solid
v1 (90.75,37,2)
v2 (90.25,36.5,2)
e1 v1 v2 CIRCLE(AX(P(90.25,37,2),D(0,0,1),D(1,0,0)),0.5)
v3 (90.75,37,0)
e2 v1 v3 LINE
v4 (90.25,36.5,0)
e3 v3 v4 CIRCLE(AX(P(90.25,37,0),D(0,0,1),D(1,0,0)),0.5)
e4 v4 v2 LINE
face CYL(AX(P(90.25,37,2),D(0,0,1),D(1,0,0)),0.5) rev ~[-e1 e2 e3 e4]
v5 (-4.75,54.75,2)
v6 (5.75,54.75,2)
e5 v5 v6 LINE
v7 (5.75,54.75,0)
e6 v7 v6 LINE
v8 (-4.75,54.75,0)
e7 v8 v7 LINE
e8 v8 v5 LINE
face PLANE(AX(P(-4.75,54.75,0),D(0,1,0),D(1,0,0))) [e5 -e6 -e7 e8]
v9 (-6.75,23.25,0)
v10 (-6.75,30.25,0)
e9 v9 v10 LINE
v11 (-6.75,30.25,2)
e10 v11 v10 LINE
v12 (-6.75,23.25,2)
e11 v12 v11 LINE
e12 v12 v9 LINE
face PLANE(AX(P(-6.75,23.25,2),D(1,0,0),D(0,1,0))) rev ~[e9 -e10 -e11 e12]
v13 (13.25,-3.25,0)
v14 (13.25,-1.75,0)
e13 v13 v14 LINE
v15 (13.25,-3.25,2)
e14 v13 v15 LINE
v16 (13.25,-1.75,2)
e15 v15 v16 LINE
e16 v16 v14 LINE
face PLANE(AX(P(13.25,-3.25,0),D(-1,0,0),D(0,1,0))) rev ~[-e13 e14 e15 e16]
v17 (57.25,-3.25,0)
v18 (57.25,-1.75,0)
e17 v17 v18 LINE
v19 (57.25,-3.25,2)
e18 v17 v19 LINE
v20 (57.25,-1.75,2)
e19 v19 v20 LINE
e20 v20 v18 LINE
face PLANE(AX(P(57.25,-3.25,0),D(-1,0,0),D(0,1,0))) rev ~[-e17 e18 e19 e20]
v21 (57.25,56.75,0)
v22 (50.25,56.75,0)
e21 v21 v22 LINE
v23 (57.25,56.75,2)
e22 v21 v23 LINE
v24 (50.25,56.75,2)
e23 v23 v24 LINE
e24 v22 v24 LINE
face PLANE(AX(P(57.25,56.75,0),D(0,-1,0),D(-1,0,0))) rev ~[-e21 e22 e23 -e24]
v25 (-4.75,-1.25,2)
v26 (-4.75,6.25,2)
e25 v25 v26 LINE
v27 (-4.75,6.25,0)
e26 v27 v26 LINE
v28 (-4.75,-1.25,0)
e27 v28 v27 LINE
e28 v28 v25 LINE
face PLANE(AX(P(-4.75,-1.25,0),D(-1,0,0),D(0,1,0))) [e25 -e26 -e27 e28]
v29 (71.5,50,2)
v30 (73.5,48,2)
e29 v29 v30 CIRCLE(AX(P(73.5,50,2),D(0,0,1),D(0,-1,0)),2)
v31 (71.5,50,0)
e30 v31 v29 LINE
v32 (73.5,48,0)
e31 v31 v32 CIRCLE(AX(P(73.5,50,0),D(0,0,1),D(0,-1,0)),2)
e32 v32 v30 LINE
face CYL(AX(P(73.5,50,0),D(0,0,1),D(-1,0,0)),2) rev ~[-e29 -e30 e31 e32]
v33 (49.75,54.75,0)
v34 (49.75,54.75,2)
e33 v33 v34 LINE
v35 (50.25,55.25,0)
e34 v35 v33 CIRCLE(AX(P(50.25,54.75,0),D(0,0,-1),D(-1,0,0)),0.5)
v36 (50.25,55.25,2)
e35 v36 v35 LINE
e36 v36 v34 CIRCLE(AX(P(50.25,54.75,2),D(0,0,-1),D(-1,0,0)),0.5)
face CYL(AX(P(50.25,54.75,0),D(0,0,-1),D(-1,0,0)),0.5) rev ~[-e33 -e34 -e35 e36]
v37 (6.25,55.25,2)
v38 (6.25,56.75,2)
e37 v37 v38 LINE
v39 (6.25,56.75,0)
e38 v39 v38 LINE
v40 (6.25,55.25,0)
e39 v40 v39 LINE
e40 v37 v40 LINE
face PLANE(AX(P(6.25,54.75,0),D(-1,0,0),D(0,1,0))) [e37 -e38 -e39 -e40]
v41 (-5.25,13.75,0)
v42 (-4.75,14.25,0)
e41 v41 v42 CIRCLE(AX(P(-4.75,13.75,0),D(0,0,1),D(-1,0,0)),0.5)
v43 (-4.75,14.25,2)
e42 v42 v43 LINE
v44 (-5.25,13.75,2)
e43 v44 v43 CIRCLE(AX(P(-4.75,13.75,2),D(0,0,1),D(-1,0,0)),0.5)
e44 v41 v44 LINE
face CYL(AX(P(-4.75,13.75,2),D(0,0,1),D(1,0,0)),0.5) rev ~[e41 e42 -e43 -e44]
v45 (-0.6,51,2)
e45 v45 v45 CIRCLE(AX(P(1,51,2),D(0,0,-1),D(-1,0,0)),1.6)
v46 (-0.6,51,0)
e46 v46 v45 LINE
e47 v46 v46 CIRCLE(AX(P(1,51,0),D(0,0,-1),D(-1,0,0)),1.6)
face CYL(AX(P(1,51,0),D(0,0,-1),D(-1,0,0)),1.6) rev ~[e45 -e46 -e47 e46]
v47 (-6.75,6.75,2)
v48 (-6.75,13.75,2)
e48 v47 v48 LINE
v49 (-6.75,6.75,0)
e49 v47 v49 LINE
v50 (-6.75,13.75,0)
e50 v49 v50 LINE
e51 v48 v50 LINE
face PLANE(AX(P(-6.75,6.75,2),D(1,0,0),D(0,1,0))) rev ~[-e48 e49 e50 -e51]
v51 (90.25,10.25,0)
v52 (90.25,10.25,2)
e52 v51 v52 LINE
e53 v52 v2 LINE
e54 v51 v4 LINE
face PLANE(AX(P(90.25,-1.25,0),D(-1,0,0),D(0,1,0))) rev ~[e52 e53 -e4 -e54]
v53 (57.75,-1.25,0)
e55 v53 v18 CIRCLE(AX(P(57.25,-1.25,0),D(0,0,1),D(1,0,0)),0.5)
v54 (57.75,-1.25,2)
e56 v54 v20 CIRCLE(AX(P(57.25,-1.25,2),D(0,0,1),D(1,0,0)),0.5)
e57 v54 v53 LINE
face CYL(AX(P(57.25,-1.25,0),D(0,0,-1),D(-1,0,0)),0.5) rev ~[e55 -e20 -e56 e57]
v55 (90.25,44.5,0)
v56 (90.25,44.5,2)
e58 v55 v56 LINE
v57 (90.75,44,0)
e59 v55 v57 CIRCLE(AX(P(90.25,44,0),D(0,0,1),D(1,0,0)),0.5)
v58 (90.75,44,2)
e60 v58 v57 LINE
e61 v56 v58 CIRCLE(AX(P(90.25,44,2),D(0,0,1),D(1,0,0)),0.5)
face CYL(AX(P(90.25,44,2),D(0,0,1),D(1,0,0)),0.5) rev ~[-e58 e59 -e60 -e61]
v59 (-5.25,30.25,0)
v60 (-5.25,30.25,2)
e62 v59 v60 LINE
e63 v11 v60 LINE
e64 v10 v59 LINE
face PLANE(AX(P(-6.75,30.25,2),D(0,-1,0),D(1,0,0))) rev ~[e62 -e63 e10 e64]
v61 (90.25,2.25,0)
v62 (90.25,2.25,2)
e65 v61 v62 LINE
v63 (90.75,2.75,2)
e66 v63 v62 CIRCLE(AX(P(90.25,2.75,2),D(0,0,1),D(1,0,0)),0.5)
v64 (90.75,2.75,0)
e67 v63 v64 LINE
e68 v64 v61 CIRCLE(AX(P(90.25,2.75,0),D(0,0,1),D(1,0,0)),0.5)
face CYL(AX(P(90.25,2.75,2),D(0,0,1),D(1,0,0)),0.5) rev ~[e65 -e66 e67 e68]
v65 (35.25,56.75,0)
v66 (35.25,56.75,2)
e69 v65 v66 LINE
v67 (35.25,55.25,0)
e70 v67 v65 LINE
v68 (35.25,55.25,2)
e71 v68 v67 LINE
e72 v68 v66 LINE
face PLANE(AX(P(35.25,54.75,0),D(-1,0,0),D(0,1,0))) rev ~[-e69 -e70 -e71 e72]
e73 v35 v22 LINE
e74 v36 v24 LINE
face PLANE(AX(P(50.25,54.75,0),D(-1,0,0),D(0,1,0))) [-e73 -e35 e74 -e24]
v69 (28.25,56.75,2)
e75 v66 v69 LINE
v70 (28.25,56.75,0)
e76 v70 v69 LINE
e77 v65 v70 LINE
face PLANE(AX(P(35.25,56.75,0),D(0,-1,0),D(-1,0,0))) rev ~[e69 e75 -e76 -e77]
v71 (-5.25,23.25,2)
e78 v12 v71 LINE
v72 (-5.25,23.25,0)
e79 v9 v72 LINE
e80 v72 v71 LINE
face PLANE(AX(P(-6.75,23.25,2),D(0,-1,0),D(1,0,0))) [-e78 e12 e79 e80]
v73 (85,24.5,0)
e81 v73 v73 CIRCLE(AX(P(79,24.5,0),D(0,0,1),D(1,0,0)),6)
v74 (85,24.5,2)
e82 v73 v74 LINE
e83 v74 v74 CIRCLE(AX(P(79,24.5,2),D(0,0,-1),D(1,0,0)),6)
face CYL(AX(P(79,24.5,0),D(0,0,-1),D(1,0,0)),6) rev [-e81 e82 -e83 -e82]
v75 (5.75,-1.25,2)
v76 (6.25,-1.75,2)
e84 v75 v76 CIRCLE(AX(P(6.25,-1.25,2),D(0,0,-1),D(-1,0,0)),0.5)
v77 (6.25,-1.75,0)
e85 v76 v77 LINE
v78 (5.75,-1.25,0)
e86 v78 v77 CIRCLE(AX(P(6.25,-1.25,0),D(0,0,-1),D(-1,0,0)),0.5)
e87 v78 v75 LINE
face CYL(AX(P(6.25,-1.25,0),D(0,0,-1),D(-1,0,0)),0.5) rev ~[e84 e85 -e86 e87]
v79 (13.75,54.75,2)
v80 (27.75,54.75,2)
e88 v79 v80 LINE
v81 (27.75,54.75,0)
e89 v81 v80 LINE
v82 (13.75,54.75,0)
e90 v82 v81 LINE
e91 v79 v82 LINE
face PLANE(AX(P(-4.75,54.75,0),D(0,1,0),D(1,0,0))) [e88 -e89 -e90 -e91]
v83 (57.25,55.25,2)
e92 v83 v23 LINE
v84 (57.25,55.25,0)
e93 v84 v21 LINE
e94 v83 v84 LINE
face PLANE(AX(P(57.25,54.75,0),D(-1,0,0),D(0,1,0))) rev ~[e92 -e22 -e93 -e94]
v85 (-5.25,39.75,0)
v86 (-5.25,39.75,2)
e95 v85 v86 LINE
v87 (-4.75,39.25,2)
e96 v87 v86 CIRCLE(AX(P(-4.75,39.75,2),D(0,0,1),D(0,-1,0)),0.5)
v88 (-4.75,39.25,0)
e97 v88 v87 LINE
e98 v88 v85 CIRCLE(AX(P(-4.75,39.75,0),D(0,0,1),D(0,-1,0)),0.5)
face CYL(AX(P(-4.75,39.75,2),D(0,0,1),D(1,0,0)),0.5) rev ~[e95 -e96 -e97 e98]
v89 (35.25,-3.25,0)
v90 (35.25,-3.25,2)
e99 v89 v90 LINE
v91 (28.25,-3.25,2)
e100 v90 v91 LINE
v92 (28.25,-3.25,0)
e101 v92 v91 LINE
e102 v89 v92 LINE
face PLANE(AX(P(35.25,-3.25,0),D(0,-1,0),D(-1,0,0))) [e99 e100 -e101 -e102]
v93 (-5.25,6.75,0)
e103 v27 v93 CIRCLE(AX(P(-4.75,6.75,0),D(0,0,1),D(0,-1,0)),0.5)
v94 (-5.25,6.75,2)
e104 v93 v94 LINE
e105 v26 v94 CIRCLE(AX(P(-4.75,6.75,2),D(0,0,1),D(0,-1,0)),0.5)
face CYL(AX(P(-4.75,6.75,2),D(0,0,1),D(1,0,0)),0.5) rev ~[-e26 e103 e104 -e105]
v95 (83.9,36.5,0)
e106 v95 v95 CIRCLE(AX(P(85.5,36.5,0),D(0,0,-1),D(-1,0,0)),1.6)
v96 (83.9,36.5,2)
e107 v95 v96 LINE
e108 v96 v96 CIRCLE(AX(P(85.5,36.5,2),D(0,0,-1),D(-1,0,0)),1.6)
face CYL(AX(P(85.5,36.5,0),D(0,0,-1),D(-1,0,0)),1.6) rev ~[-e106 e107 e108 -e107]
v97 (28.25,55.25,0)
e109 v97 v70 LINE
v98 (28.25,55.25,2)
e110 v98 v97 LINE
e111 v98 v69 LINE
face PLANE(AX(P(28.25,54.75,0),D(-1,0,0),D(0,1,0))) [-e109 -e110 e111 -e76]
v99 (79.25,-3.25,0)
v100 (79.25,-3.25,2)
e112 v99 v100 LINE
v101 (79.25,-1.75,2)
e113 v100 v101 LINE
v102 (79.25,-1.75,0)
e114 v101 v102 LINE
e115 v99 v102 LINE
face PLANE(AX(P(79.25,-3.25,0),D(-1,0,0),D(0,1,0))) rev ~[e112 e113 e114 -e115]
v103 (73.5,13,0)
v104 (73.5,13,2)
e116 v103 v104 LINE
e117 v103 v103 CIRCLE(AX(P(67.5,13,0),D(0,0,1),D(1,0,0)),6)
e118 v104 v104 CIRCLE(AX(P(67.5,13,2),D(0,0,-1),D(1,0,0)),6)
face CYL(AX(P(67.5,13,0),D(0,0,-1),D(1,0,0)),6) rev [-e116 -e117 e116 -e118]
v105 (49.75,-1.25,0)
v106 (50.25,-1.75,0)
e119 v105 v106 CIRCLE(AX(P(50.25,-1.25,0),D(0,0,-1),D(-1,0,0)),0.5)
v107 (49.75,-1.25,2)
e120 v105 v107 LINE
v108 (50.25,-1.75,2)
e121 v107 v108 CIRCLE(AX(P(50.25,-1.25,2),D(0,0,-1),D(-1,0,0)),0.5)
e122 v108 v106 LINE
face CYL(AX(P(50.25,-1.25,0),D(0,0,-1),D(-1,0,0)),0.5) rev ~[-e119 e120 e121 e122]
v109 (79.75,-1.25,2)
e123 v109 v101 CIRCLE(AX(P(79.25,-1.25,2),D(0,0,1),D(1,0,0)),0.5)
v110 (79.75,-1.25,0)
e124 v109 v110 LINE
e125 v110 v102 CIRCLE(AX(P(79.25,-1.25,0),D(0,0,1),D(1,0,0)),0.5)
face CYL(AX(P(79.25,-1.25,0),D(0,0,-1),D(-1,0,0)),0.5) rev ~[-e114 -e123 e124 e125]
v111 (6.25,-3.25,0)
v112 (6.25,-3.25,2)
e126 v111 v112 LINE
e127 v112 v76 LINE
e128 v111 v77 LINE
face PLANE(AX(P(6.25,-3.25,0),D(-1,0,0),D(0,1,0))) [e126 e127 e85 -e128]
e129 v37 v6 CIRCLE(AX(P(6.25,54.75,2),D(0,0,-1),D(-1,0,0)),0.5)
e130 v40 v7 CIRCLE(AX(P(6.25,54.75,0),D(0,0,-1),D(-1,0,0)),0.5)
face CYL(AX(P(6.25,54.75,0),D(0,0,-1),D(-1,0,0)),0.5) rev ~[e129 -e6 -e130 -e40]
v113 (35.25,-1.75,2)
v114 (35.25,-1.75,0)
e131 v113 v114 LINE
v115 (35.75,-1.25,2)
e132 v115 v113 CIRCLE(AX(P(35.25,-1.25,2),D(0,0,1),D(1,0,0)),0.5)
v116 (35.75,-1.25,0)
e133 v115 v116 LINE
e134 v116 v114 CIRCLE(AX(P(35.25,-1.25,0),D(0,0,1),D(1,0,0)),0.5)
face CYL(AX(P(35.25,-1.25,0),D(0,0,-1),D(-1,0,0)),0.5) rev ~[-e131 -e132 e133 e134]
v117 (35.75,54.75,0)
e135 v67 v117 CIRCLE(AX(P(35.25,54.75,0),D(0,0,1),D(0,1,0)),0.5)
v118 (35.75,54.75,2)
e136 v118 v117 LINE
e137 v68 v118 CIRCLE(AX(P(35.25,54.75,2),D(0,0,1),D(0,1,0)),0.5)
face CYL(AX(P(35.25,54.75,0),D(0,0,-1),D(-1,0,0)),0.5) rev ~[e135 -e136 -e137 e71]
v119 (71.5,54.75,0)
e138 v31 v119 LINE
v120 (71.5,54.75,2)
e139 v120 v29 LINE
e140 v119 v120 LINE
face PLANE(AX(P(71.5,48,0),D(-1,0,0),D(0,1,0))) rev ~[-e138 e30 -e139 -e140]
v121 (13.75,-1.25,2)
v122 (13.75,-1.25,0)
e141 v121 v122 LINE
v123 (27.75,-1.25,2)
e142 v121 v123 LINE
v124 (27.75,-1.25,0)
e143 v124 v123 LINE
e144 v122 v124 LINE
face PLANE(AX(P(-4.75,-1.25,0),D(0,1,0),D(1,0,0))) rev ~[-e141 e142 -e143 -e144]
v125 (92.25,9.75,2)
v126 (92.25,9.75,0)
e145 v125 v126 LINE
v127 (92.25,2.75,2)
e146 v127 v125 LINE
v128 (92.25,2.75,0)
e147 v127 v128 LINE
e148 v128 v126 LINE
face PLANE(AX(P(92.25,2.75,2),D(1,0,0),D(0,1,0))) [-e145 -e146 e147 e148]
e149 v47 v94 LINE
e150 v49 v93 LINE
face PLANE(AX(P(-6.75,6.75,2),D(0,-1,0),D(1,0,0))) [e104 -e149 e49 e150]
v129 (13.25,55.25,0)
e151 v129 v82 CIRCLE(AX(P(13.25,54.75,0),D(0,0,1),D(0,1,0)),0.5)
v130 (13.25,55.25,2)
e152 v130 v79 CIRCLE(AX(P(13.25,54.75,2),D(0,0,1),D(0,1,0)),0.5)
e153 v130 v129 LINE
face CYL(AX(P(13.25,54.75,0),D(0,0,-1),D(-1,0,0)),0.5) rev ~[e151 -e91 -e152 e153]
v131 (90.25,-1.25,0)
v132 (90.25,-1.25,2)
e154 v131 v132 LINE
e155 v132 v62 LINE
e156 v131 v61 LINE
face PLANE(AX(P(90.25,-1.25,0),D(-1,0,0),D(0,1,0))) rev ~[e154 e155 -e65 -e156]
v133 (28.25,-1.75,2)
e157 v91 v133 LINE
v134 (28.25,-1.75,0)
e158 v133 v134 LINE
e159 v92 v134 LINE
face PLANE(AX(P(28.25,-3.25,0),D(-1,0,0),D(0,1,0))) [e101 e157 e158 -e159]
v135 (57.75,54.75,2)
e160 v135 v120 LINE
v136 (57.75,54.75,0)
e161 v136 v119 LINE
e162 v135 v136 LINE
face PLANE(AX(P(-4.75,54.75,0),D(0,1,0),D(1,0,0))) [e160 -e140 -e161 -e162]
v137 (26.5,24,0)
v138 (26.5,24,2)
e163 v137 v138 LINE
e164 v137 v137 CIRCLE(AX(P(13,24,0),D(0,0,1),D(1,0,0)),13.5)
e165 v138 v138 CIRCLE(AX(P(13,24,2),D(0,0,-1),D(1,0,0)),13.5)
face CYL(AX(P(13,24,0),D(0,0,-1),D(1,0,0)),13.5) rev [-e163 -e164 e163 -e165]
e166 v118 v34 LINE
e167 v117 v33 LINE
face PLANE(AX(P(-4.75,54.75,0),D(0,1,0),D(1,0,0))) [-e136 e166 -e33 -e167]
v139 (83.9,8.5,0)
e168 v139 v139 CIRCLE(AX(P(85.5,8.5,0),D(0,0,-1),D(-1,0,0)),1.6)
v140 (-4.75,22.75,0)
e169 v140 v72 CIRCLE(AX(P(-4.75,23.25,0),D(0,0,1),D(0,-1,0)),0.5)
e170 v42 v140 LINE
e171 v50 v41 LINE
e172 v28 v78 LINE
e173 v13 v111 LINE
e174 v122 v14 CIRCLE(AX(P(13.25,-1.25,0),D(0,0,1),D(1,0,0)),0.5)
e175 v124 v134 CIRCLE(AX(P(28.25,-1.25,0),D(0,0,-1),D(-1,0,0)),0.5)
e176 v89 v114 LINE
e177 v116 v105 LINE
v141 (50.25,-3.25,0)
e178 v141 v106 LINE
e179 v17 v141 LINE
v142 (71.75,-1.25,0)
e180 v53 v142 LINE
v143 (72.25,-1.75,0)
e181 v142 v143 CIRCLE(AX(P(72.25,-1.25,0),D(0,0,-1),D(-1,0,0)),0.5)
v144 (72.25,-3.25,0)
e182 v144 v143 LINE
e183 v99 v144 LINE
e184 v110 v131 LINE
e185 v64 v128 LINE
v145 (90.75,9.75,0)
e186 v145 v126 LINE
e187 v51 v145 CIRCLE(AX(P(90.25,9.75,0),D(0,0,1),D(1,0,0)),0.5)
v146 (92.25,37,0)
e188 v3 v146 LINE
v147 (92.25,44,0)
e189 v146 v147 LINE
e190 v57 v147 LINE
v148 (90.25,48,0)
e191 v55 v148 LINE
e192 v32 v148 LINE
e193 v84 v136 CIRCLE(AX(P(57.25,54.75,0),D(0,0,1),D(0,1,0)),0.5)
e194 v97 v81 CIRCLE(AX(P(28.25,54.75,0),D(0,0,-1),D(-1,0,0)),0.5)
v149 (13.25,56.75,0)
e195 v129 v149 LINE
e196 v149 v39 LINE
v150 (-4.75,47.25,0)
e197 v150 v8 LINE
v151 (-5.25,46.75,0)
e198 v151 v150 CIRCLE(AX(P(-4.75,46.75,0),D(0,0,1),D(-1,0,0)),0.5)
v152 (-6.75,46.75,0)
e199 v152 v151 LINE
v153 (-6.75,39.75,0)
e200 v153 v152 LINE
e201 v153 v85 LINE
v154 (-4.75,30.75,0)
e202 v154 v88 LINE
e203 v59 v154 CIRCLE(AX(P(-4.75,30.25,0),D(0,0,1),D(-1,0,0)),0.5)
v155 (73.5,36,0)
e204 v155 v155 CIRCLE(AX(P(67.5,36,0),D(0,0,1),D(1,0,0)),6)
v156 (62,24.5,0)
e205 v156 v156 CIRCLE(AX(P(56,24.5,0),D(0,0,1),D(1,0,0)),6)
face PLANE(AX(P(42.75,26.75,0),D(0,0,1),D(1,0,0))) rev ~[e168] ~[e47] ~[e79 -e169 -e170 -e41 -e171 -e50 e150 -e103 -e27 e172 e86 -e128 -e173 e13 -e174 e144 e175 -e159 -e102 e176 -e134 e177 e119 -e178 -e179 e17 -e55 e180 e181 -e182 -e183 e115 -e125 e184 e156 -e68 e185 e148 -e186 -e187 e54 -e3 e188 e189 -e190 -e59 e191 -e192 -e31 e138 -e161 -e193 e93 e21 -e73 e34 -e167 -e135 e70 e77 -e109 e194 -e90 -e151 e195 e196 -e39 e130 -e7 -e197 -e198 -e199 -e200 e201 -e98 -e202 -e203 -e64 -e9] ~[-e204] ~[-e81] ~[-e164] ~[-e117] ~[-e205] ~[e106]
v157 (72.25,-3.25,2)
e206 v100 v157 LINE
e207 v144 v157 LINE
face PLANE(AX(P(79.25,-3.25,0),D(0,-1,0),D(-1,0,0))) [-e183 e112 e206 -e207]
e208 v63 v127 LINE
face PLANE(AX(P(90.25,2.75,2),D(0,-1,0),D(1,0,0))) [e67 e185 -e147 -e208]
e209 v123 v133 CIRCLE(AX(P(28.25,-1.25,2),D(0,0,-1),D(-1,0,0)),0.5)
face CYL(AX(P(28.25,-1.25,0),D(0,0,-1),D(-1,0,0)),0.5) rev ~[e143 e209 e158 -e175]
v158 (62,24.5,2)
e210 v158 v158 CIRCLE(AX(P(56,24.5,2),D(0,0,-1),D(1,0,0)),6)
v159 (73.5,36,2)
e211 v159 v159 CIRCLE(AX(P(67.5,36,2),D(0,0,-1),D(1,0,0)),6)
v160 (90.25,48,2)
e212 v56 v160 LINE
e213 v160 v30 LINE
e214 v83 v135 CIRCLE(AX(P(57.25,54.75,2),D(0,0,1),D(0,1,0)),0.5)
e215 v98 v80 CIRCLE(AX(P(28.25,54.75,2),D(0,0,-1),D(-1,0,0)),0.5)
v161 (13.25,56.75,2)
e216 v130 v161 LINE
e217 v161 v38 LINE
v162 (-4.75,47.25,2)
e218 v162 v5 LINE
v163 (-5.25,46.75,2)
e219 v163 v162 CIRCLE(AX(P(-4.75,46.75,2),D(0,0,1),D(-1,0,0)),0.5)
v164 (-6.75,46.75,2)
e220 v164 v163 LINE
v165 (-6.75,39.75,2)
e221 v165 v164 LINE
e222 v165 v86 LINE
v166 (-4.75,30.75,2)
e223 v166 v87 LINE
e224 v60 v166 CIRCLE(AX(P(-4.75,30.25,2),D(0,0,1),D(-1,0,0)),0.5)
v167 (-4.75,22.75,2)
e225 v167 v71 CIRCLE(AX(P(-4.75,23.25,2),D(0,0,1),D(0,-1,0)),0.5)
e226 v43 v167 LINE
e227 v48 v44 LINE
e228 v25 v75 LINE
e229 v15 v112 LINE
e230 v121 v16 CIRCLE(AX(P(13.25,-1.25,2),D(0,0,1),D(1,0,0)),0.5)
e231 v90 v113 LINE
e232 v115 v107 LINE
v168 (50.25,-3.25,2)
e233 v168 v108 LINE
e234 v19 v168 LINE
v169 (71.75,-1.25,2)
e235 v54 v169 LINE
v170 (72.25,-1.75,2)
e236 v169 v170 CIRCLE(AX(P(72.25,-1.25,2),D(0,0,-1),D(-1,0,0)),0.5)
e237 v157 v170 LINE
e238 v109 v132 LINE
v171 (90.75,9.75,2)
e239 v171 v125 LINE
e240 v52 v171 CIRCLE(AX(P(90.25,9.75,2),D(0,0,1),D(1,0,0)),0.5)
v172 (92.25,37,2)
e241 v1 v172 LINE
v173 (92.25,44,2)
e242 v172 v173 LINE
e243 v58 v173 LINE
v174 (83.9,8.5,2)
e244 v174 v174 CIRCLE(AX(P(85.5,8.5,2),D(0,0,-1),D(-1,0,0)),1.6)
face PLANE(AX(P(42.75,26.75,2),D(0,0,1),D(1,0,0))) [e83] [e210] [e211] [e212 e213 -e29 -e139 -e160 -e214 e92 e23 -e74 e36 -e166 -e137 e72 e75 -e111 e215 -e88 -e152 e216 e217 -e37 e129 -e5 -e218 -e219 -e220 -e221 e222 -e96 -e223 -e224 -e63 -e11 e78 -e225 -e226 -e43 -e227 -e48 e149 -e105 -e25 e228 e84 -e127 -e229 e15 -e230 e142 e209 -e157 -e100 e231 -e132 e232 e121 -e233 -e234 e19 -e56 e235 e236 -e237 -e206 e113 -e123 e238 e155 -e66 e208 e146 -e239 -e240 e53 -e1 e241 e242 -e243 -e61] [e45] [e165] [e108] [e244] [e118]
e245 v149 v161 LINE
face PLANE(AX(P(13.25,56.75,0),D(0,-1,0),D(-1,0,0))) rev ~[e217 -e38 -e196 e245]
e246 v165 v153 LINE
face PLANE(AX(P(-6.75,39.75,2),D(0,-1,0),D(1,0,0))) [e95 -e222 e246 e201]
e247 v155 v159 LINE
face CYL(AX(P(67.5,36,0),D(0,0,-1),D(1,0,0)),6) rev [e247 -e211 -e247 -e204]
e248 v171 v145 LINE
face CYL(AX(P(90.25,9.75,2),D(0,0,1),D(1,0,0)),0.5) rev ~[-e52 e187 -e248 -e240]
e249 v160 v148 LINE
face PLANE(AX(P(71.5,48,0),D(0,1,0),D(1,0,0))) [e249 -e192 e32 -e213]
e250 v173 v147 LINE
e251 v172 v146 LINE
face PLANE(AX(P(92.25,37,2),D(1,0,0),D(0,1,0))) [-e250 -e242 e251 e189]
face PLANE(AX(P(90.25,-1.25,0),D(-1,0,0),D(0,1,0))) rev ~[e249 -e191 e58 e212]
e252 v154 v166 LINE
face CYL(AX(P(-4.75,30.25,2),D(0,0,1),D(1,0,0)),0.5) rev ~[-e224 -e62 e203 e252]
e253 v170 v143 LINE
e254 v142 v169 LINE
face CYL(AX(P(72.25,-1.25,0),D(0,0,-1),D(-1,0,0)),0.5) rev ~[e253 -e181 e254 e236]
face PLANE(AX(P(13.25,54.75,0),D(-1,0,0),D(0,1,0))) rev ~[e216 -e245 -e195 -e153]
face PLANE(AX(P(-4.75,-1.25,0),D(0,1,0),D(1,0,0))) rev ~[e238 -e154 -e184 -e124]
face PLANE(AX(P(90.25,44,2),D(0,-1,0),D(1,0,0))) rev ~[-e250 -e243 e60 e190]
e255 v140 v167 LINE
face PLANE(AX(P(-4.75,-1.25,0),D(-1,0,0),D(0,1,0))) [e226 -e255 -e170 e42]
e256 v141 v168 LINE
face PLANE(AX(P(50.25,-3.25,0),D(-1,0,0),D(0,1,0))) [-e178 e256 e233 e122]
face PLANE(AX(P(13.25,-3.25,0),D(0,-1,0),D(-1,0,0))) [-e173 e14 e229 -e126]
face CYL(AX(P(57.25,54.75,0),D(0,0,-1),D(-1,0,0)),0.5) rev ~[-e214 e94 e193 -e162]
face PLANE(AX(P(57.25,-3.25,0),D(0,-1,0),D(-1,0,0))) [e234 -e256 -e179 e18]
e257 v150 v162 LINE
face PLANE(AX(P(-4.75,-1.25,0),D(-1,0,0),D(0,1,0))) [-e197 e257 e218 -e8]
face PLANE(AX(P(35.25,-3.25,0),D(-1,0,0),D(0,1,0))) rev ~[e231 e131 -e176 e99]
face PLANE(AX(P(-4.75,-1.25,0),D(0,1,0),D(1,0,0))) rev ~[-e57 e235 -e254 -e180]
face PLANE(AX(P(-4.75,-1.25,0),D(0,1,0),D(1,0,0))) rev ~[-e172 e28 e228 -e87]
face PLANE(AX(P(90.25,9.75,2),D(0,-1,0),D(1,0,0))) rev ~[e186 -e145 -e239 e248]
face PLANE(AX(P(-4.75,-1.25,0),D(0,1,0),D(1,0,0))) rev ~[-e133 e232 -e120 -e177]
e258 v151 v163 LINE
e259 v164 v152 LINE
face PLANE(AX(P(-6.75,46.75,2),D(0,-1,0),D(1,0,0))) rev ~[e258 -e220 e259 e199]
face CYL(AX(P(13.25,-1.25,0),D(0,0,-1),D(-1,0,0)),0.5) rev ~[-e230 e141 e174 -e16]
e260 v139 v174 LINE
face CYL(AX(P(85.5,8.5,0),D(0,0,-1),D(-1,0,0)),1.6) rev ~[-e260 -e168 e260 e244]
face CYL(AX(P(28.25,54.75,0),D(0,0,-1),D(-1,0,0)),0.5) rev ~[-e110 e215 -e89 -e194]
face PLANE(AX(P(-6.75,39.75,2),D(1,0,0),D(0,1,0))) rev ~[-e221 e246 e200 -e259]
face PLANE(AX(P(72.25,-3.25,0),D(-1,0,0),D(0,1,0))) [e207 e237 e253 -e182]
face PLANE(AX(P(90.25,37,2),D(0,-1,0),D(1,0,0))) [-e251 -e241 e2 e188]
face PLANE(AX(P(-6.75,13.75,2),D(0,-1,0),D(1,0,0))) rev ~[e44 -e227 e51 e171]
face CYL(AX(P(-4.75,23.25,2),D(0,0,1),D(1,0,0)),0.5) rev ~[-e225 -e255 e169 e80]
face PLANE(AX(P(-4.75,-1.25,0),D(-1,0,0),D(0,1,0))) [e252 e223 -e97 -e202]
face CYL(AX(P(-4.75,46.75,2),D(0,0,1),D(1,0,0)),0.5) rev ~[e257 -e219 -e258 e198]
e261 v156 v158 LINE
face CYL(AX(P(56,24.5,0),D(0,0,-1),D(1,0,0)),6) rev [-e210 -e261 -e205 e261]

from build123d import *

# Parameters (mm, degrees)
SKETCH_5_W          = 95
SKETCH_5_H          = 56
EXTRUDE_1_DEPTH     = 2
SKETCH_3_R          = 6
CUT_EXTRUDE_2_DEPTH = 106.577578112
SKETCH_4_R          = 13.5
CUT_EXTRUDE_3_DEPTH = 106.577578112
SKETCH_6_W          = 20
SKETCH_6_H          = 9
CUT_EXTRUDE_4_DEPTH = 106.577578112
FILLET_2_R          = 2
SKETCH_8_R          = 1.6
CUT_EXTRUDE_6_DEPTH = 106.577578112
SKETCH_10_W         = 7
SKETCH_10_H         = 2
EXTRUDE_2_DEPTH     = 2
SKETCH_11_R         = 0.5
CUT_EXTRUDE_8_DEPTH = 107.628443672
SKETCH_12_W         = 2
SKETCH_12_H         = 7
EXTRUDE_3_DEPTH     = 2
SKETCH_13_W         = 2
SKETCH_13_H         = 7
EXTRUDE_4_DEPTH     = 2
SKETCH_14_R         = 0.5
CUT_EXTRUDE_9_DEPTH = 109.326474142


with BuildPart() as part:
    # 草图5 → 凸台-拉伸1 (new body)
    with BuildSketch(Plane.XY):
        with Locations((42.75, 26.75)):
            Rectangle(SKETCH_5_W, SKETCH_5_H)
    extrude(amount=EXTRUDE_1_DEPTH)

    # 草图3 → 切除-拉伸2 (cut, through all)
    with BuildSketch(Plane.XY):
        with Locations((67.5, 36)):
            Circle(SKETCH_3_R)
        with Locations((56, 24.5)):
            Circle(SKETCH_3_R)
        with Locations((67.5, 13)):
            Circle(SKETCH_3_R)
        with Locations((79, 24.5)):
            Circle(SKETCH_3_R)
    extrude(amount=CUT_EXTRUDE_2_DEPTH, mode=Mode.SUBTRACT)

    # 草图4 → 切除-拉伸3 (cut, through all)
    with BuildSketch(Plane.XY):
        with Locations((13, 24)):
            Circle(SKETCH_4_R)
    extrude(amount=CUT_EXTRUDE_3_DEPTH, mode=Mode.SUBTRACT)

    # 草图6 → 切除-拉伸4 (cut, through all)
    with BuildSketch(Plane.XY):
        with Locations((81.5, 52.5)):
            Rectangle(SKETCH_6_W, SKETCH_6_H)
    extrude(amount=CUT_EXTRUDE_4_DEPTH, mode=Mode.SUBTRACT)

    # 圆角2
    fillet_2_edges = [part.edges().sort_by_distance(p)[0] for p in [
        (71.5, 48, 1),
    ]]
    fillet(fillet_2_edges, radius=FILLET_2_R)

    # 草图8 → 切除-拉伸6 (cut, through all)
    with BuildSketch(Plane(origin=(0, 0, 0), x_dir=(-1, 0, 0), z_dir=(0, 0, -1))):
        with Locations((-85.5, 36.5)):
            Circle(SKETCH_8_R)
        with Locations((-85.5, 8.5)):
            Circle(SKETCH_8_R)
        with Locations((-1, 51)):
            Circle(SKETCH_8_R)
    extrude(amount=-CUT_EXTRUDE_6_DEPTH, mode=Mode.SUBTRACT)

    # 草图10 → 凸台-拉伸2 (add)
    with BuildSketch(Plane(origin=(0, 0, 0), x_dir=(-1, 0, 0), z_dir=(0, 0, -1))):
        with Locations((-9.75, 55.75)):
            Rectangle(SKETCH_10_W, SKETCH_10_H)
        with Locations((-31.75, 55.75)):
            Rectangle(SKETCH_10_W, SKETCH_10_H)
        with Locations((-53.75, 55.75)):
            Rectangle(SKETCH_10_W, SKETCH_10_H)
        with Locations((-75.75, -2.25)):
            Rectangle(SKETCH_10_W, SKETCH_10_H)
        with Locations((-53.75, -2.25)):
            Rectangle(SKETCH_10_W, SKETCH_10_H)
        with Locations((-31.75, -2.25)):
            Rectangle(SKETCH_10_W, SKETCH_10_H)
        with Locations((-9.75, -2.25)):
            Rectangle(SKETCH_10_W, SKETCH_10_H)
    extrude(amount=-EXTRUDE_2_DEPTH)

    # 草图11 → 切除-拉伸8 (cut, through all)
    with BuildSketch(Plane(origin=(0, 0, 0), x_dir=(-1, 0, 0), z_dir=(0, 0, -1))):
        with Locations((-57.25, 54.75)):
            Circle(SKETCH_11_R)
        with Locations((-50.25, 54.75)):
            Circle(SKETCH_11_R)
        with Locations((-35.25, 54.75)):
            Circle(SKETCH_11_R)
        with Locations((-28.25, 54.75)):
            Circle(SKETCH_11_R)
        with Locations((-13.25, 54.75)):
            Circle(SKETCH_11_R)
        with Locations((-6.25, 54.75)):
            Circle(SKETCH_11_R)
        with Locations((-79.25, -1.25)):
            Circle(SKETCH_11_R)
        with Locations((-72.25, -1.25)):
            Circle(SKETCH_11_R)
        with Locations((-57.25, -1.25)):
            Circle(SKETCH_11_R)
        with Locations((-50.25, -1.25)):
            Circle(SKETCH_11_R)
        with Locations((-35.25, -1.25)):
            Circle(SKETCH_11_R)
        with Locations((-28.25, -1.25)):
            Circle(SKETCH_11_R)
        with Locations((-13.25, -1.25)):
            Circle(SKETCH_11_R)
        with Locations((-6.25, -1.25)):
            Circle(SKETCH_11_R)
    extrude(amount=-CUT_EXTRUDE_8_DEPTH, mode=Mode.SUBTRACT)

    # 草图12 → 凸台-拉伸3 (add)
    with BuildSketch(Plane.XY.offset(2)):
        with Locations((91.25, 40.5)):
            Rectangle(SKETCH_12_W, SKETCH_12_H)
        with Locations((91.25, 6.25)):
            Rectangle(SKETCH_12_W, SKETCH_12_H)
    extrude(amount=-EXTRUDE_3_DEPTH)

    # 草图13 → 凸台-拉伸4 (add)
    with BuildSketch(Plane.XY.offset(2)):
        with Locations((-5.75, 10.25)):
            Rectangle(SKETCH_13_W, SKETCH_13_H)
        with Locations((-5.75, 26.75)):
            Rectangle(SKETCH_13_W, SKETCH_13_H)
        with Locations((-5.75, 43.25)):
            Rectangle(SKETCH_13_W, SKETCH_13_H)
    extrude(amount=-EXTRUDE_4_DEPTH)

    # 草图14 → 切除-拉伸9 (cut, through all)
    with BuildSketch(Plane.XY.offset(2)):
        with Locations((-4.75, 46.75)):
            Circle(SKETCH_14_R)
        with Locations((-4.75, 39.75)):
            Circle(SKETCH_14_R)
        with Locations((-4.75, 30.25)):
            Circle(SKETCH_14_R)
        with Locations((-4.75, 23.25)):
            Circle(SKETCH_14_R)
        with Locations((-4.75, 13.75)):
            Circle(SKETCH_14_R)
        with Locations((-4.75, 6.75)):
            Circle(SKETCH_14_R)
        with Locations((90.25, 44)):
            Circle(SKETCH_14_R)
        with Locations((90.25, 37)):
            Circle(SKETCH_14_R)
        with Locations((90.25, 9.75)):
            Circle(SKETCH_14_R)
        with Locations((90.25, 2.75)):
            Circle(SKETCH_14_R)
    extrude(amount=-CUT_EXTRUDE_9_DEPTH, mode=Mode.SUBTRACT)


solid = part.part
